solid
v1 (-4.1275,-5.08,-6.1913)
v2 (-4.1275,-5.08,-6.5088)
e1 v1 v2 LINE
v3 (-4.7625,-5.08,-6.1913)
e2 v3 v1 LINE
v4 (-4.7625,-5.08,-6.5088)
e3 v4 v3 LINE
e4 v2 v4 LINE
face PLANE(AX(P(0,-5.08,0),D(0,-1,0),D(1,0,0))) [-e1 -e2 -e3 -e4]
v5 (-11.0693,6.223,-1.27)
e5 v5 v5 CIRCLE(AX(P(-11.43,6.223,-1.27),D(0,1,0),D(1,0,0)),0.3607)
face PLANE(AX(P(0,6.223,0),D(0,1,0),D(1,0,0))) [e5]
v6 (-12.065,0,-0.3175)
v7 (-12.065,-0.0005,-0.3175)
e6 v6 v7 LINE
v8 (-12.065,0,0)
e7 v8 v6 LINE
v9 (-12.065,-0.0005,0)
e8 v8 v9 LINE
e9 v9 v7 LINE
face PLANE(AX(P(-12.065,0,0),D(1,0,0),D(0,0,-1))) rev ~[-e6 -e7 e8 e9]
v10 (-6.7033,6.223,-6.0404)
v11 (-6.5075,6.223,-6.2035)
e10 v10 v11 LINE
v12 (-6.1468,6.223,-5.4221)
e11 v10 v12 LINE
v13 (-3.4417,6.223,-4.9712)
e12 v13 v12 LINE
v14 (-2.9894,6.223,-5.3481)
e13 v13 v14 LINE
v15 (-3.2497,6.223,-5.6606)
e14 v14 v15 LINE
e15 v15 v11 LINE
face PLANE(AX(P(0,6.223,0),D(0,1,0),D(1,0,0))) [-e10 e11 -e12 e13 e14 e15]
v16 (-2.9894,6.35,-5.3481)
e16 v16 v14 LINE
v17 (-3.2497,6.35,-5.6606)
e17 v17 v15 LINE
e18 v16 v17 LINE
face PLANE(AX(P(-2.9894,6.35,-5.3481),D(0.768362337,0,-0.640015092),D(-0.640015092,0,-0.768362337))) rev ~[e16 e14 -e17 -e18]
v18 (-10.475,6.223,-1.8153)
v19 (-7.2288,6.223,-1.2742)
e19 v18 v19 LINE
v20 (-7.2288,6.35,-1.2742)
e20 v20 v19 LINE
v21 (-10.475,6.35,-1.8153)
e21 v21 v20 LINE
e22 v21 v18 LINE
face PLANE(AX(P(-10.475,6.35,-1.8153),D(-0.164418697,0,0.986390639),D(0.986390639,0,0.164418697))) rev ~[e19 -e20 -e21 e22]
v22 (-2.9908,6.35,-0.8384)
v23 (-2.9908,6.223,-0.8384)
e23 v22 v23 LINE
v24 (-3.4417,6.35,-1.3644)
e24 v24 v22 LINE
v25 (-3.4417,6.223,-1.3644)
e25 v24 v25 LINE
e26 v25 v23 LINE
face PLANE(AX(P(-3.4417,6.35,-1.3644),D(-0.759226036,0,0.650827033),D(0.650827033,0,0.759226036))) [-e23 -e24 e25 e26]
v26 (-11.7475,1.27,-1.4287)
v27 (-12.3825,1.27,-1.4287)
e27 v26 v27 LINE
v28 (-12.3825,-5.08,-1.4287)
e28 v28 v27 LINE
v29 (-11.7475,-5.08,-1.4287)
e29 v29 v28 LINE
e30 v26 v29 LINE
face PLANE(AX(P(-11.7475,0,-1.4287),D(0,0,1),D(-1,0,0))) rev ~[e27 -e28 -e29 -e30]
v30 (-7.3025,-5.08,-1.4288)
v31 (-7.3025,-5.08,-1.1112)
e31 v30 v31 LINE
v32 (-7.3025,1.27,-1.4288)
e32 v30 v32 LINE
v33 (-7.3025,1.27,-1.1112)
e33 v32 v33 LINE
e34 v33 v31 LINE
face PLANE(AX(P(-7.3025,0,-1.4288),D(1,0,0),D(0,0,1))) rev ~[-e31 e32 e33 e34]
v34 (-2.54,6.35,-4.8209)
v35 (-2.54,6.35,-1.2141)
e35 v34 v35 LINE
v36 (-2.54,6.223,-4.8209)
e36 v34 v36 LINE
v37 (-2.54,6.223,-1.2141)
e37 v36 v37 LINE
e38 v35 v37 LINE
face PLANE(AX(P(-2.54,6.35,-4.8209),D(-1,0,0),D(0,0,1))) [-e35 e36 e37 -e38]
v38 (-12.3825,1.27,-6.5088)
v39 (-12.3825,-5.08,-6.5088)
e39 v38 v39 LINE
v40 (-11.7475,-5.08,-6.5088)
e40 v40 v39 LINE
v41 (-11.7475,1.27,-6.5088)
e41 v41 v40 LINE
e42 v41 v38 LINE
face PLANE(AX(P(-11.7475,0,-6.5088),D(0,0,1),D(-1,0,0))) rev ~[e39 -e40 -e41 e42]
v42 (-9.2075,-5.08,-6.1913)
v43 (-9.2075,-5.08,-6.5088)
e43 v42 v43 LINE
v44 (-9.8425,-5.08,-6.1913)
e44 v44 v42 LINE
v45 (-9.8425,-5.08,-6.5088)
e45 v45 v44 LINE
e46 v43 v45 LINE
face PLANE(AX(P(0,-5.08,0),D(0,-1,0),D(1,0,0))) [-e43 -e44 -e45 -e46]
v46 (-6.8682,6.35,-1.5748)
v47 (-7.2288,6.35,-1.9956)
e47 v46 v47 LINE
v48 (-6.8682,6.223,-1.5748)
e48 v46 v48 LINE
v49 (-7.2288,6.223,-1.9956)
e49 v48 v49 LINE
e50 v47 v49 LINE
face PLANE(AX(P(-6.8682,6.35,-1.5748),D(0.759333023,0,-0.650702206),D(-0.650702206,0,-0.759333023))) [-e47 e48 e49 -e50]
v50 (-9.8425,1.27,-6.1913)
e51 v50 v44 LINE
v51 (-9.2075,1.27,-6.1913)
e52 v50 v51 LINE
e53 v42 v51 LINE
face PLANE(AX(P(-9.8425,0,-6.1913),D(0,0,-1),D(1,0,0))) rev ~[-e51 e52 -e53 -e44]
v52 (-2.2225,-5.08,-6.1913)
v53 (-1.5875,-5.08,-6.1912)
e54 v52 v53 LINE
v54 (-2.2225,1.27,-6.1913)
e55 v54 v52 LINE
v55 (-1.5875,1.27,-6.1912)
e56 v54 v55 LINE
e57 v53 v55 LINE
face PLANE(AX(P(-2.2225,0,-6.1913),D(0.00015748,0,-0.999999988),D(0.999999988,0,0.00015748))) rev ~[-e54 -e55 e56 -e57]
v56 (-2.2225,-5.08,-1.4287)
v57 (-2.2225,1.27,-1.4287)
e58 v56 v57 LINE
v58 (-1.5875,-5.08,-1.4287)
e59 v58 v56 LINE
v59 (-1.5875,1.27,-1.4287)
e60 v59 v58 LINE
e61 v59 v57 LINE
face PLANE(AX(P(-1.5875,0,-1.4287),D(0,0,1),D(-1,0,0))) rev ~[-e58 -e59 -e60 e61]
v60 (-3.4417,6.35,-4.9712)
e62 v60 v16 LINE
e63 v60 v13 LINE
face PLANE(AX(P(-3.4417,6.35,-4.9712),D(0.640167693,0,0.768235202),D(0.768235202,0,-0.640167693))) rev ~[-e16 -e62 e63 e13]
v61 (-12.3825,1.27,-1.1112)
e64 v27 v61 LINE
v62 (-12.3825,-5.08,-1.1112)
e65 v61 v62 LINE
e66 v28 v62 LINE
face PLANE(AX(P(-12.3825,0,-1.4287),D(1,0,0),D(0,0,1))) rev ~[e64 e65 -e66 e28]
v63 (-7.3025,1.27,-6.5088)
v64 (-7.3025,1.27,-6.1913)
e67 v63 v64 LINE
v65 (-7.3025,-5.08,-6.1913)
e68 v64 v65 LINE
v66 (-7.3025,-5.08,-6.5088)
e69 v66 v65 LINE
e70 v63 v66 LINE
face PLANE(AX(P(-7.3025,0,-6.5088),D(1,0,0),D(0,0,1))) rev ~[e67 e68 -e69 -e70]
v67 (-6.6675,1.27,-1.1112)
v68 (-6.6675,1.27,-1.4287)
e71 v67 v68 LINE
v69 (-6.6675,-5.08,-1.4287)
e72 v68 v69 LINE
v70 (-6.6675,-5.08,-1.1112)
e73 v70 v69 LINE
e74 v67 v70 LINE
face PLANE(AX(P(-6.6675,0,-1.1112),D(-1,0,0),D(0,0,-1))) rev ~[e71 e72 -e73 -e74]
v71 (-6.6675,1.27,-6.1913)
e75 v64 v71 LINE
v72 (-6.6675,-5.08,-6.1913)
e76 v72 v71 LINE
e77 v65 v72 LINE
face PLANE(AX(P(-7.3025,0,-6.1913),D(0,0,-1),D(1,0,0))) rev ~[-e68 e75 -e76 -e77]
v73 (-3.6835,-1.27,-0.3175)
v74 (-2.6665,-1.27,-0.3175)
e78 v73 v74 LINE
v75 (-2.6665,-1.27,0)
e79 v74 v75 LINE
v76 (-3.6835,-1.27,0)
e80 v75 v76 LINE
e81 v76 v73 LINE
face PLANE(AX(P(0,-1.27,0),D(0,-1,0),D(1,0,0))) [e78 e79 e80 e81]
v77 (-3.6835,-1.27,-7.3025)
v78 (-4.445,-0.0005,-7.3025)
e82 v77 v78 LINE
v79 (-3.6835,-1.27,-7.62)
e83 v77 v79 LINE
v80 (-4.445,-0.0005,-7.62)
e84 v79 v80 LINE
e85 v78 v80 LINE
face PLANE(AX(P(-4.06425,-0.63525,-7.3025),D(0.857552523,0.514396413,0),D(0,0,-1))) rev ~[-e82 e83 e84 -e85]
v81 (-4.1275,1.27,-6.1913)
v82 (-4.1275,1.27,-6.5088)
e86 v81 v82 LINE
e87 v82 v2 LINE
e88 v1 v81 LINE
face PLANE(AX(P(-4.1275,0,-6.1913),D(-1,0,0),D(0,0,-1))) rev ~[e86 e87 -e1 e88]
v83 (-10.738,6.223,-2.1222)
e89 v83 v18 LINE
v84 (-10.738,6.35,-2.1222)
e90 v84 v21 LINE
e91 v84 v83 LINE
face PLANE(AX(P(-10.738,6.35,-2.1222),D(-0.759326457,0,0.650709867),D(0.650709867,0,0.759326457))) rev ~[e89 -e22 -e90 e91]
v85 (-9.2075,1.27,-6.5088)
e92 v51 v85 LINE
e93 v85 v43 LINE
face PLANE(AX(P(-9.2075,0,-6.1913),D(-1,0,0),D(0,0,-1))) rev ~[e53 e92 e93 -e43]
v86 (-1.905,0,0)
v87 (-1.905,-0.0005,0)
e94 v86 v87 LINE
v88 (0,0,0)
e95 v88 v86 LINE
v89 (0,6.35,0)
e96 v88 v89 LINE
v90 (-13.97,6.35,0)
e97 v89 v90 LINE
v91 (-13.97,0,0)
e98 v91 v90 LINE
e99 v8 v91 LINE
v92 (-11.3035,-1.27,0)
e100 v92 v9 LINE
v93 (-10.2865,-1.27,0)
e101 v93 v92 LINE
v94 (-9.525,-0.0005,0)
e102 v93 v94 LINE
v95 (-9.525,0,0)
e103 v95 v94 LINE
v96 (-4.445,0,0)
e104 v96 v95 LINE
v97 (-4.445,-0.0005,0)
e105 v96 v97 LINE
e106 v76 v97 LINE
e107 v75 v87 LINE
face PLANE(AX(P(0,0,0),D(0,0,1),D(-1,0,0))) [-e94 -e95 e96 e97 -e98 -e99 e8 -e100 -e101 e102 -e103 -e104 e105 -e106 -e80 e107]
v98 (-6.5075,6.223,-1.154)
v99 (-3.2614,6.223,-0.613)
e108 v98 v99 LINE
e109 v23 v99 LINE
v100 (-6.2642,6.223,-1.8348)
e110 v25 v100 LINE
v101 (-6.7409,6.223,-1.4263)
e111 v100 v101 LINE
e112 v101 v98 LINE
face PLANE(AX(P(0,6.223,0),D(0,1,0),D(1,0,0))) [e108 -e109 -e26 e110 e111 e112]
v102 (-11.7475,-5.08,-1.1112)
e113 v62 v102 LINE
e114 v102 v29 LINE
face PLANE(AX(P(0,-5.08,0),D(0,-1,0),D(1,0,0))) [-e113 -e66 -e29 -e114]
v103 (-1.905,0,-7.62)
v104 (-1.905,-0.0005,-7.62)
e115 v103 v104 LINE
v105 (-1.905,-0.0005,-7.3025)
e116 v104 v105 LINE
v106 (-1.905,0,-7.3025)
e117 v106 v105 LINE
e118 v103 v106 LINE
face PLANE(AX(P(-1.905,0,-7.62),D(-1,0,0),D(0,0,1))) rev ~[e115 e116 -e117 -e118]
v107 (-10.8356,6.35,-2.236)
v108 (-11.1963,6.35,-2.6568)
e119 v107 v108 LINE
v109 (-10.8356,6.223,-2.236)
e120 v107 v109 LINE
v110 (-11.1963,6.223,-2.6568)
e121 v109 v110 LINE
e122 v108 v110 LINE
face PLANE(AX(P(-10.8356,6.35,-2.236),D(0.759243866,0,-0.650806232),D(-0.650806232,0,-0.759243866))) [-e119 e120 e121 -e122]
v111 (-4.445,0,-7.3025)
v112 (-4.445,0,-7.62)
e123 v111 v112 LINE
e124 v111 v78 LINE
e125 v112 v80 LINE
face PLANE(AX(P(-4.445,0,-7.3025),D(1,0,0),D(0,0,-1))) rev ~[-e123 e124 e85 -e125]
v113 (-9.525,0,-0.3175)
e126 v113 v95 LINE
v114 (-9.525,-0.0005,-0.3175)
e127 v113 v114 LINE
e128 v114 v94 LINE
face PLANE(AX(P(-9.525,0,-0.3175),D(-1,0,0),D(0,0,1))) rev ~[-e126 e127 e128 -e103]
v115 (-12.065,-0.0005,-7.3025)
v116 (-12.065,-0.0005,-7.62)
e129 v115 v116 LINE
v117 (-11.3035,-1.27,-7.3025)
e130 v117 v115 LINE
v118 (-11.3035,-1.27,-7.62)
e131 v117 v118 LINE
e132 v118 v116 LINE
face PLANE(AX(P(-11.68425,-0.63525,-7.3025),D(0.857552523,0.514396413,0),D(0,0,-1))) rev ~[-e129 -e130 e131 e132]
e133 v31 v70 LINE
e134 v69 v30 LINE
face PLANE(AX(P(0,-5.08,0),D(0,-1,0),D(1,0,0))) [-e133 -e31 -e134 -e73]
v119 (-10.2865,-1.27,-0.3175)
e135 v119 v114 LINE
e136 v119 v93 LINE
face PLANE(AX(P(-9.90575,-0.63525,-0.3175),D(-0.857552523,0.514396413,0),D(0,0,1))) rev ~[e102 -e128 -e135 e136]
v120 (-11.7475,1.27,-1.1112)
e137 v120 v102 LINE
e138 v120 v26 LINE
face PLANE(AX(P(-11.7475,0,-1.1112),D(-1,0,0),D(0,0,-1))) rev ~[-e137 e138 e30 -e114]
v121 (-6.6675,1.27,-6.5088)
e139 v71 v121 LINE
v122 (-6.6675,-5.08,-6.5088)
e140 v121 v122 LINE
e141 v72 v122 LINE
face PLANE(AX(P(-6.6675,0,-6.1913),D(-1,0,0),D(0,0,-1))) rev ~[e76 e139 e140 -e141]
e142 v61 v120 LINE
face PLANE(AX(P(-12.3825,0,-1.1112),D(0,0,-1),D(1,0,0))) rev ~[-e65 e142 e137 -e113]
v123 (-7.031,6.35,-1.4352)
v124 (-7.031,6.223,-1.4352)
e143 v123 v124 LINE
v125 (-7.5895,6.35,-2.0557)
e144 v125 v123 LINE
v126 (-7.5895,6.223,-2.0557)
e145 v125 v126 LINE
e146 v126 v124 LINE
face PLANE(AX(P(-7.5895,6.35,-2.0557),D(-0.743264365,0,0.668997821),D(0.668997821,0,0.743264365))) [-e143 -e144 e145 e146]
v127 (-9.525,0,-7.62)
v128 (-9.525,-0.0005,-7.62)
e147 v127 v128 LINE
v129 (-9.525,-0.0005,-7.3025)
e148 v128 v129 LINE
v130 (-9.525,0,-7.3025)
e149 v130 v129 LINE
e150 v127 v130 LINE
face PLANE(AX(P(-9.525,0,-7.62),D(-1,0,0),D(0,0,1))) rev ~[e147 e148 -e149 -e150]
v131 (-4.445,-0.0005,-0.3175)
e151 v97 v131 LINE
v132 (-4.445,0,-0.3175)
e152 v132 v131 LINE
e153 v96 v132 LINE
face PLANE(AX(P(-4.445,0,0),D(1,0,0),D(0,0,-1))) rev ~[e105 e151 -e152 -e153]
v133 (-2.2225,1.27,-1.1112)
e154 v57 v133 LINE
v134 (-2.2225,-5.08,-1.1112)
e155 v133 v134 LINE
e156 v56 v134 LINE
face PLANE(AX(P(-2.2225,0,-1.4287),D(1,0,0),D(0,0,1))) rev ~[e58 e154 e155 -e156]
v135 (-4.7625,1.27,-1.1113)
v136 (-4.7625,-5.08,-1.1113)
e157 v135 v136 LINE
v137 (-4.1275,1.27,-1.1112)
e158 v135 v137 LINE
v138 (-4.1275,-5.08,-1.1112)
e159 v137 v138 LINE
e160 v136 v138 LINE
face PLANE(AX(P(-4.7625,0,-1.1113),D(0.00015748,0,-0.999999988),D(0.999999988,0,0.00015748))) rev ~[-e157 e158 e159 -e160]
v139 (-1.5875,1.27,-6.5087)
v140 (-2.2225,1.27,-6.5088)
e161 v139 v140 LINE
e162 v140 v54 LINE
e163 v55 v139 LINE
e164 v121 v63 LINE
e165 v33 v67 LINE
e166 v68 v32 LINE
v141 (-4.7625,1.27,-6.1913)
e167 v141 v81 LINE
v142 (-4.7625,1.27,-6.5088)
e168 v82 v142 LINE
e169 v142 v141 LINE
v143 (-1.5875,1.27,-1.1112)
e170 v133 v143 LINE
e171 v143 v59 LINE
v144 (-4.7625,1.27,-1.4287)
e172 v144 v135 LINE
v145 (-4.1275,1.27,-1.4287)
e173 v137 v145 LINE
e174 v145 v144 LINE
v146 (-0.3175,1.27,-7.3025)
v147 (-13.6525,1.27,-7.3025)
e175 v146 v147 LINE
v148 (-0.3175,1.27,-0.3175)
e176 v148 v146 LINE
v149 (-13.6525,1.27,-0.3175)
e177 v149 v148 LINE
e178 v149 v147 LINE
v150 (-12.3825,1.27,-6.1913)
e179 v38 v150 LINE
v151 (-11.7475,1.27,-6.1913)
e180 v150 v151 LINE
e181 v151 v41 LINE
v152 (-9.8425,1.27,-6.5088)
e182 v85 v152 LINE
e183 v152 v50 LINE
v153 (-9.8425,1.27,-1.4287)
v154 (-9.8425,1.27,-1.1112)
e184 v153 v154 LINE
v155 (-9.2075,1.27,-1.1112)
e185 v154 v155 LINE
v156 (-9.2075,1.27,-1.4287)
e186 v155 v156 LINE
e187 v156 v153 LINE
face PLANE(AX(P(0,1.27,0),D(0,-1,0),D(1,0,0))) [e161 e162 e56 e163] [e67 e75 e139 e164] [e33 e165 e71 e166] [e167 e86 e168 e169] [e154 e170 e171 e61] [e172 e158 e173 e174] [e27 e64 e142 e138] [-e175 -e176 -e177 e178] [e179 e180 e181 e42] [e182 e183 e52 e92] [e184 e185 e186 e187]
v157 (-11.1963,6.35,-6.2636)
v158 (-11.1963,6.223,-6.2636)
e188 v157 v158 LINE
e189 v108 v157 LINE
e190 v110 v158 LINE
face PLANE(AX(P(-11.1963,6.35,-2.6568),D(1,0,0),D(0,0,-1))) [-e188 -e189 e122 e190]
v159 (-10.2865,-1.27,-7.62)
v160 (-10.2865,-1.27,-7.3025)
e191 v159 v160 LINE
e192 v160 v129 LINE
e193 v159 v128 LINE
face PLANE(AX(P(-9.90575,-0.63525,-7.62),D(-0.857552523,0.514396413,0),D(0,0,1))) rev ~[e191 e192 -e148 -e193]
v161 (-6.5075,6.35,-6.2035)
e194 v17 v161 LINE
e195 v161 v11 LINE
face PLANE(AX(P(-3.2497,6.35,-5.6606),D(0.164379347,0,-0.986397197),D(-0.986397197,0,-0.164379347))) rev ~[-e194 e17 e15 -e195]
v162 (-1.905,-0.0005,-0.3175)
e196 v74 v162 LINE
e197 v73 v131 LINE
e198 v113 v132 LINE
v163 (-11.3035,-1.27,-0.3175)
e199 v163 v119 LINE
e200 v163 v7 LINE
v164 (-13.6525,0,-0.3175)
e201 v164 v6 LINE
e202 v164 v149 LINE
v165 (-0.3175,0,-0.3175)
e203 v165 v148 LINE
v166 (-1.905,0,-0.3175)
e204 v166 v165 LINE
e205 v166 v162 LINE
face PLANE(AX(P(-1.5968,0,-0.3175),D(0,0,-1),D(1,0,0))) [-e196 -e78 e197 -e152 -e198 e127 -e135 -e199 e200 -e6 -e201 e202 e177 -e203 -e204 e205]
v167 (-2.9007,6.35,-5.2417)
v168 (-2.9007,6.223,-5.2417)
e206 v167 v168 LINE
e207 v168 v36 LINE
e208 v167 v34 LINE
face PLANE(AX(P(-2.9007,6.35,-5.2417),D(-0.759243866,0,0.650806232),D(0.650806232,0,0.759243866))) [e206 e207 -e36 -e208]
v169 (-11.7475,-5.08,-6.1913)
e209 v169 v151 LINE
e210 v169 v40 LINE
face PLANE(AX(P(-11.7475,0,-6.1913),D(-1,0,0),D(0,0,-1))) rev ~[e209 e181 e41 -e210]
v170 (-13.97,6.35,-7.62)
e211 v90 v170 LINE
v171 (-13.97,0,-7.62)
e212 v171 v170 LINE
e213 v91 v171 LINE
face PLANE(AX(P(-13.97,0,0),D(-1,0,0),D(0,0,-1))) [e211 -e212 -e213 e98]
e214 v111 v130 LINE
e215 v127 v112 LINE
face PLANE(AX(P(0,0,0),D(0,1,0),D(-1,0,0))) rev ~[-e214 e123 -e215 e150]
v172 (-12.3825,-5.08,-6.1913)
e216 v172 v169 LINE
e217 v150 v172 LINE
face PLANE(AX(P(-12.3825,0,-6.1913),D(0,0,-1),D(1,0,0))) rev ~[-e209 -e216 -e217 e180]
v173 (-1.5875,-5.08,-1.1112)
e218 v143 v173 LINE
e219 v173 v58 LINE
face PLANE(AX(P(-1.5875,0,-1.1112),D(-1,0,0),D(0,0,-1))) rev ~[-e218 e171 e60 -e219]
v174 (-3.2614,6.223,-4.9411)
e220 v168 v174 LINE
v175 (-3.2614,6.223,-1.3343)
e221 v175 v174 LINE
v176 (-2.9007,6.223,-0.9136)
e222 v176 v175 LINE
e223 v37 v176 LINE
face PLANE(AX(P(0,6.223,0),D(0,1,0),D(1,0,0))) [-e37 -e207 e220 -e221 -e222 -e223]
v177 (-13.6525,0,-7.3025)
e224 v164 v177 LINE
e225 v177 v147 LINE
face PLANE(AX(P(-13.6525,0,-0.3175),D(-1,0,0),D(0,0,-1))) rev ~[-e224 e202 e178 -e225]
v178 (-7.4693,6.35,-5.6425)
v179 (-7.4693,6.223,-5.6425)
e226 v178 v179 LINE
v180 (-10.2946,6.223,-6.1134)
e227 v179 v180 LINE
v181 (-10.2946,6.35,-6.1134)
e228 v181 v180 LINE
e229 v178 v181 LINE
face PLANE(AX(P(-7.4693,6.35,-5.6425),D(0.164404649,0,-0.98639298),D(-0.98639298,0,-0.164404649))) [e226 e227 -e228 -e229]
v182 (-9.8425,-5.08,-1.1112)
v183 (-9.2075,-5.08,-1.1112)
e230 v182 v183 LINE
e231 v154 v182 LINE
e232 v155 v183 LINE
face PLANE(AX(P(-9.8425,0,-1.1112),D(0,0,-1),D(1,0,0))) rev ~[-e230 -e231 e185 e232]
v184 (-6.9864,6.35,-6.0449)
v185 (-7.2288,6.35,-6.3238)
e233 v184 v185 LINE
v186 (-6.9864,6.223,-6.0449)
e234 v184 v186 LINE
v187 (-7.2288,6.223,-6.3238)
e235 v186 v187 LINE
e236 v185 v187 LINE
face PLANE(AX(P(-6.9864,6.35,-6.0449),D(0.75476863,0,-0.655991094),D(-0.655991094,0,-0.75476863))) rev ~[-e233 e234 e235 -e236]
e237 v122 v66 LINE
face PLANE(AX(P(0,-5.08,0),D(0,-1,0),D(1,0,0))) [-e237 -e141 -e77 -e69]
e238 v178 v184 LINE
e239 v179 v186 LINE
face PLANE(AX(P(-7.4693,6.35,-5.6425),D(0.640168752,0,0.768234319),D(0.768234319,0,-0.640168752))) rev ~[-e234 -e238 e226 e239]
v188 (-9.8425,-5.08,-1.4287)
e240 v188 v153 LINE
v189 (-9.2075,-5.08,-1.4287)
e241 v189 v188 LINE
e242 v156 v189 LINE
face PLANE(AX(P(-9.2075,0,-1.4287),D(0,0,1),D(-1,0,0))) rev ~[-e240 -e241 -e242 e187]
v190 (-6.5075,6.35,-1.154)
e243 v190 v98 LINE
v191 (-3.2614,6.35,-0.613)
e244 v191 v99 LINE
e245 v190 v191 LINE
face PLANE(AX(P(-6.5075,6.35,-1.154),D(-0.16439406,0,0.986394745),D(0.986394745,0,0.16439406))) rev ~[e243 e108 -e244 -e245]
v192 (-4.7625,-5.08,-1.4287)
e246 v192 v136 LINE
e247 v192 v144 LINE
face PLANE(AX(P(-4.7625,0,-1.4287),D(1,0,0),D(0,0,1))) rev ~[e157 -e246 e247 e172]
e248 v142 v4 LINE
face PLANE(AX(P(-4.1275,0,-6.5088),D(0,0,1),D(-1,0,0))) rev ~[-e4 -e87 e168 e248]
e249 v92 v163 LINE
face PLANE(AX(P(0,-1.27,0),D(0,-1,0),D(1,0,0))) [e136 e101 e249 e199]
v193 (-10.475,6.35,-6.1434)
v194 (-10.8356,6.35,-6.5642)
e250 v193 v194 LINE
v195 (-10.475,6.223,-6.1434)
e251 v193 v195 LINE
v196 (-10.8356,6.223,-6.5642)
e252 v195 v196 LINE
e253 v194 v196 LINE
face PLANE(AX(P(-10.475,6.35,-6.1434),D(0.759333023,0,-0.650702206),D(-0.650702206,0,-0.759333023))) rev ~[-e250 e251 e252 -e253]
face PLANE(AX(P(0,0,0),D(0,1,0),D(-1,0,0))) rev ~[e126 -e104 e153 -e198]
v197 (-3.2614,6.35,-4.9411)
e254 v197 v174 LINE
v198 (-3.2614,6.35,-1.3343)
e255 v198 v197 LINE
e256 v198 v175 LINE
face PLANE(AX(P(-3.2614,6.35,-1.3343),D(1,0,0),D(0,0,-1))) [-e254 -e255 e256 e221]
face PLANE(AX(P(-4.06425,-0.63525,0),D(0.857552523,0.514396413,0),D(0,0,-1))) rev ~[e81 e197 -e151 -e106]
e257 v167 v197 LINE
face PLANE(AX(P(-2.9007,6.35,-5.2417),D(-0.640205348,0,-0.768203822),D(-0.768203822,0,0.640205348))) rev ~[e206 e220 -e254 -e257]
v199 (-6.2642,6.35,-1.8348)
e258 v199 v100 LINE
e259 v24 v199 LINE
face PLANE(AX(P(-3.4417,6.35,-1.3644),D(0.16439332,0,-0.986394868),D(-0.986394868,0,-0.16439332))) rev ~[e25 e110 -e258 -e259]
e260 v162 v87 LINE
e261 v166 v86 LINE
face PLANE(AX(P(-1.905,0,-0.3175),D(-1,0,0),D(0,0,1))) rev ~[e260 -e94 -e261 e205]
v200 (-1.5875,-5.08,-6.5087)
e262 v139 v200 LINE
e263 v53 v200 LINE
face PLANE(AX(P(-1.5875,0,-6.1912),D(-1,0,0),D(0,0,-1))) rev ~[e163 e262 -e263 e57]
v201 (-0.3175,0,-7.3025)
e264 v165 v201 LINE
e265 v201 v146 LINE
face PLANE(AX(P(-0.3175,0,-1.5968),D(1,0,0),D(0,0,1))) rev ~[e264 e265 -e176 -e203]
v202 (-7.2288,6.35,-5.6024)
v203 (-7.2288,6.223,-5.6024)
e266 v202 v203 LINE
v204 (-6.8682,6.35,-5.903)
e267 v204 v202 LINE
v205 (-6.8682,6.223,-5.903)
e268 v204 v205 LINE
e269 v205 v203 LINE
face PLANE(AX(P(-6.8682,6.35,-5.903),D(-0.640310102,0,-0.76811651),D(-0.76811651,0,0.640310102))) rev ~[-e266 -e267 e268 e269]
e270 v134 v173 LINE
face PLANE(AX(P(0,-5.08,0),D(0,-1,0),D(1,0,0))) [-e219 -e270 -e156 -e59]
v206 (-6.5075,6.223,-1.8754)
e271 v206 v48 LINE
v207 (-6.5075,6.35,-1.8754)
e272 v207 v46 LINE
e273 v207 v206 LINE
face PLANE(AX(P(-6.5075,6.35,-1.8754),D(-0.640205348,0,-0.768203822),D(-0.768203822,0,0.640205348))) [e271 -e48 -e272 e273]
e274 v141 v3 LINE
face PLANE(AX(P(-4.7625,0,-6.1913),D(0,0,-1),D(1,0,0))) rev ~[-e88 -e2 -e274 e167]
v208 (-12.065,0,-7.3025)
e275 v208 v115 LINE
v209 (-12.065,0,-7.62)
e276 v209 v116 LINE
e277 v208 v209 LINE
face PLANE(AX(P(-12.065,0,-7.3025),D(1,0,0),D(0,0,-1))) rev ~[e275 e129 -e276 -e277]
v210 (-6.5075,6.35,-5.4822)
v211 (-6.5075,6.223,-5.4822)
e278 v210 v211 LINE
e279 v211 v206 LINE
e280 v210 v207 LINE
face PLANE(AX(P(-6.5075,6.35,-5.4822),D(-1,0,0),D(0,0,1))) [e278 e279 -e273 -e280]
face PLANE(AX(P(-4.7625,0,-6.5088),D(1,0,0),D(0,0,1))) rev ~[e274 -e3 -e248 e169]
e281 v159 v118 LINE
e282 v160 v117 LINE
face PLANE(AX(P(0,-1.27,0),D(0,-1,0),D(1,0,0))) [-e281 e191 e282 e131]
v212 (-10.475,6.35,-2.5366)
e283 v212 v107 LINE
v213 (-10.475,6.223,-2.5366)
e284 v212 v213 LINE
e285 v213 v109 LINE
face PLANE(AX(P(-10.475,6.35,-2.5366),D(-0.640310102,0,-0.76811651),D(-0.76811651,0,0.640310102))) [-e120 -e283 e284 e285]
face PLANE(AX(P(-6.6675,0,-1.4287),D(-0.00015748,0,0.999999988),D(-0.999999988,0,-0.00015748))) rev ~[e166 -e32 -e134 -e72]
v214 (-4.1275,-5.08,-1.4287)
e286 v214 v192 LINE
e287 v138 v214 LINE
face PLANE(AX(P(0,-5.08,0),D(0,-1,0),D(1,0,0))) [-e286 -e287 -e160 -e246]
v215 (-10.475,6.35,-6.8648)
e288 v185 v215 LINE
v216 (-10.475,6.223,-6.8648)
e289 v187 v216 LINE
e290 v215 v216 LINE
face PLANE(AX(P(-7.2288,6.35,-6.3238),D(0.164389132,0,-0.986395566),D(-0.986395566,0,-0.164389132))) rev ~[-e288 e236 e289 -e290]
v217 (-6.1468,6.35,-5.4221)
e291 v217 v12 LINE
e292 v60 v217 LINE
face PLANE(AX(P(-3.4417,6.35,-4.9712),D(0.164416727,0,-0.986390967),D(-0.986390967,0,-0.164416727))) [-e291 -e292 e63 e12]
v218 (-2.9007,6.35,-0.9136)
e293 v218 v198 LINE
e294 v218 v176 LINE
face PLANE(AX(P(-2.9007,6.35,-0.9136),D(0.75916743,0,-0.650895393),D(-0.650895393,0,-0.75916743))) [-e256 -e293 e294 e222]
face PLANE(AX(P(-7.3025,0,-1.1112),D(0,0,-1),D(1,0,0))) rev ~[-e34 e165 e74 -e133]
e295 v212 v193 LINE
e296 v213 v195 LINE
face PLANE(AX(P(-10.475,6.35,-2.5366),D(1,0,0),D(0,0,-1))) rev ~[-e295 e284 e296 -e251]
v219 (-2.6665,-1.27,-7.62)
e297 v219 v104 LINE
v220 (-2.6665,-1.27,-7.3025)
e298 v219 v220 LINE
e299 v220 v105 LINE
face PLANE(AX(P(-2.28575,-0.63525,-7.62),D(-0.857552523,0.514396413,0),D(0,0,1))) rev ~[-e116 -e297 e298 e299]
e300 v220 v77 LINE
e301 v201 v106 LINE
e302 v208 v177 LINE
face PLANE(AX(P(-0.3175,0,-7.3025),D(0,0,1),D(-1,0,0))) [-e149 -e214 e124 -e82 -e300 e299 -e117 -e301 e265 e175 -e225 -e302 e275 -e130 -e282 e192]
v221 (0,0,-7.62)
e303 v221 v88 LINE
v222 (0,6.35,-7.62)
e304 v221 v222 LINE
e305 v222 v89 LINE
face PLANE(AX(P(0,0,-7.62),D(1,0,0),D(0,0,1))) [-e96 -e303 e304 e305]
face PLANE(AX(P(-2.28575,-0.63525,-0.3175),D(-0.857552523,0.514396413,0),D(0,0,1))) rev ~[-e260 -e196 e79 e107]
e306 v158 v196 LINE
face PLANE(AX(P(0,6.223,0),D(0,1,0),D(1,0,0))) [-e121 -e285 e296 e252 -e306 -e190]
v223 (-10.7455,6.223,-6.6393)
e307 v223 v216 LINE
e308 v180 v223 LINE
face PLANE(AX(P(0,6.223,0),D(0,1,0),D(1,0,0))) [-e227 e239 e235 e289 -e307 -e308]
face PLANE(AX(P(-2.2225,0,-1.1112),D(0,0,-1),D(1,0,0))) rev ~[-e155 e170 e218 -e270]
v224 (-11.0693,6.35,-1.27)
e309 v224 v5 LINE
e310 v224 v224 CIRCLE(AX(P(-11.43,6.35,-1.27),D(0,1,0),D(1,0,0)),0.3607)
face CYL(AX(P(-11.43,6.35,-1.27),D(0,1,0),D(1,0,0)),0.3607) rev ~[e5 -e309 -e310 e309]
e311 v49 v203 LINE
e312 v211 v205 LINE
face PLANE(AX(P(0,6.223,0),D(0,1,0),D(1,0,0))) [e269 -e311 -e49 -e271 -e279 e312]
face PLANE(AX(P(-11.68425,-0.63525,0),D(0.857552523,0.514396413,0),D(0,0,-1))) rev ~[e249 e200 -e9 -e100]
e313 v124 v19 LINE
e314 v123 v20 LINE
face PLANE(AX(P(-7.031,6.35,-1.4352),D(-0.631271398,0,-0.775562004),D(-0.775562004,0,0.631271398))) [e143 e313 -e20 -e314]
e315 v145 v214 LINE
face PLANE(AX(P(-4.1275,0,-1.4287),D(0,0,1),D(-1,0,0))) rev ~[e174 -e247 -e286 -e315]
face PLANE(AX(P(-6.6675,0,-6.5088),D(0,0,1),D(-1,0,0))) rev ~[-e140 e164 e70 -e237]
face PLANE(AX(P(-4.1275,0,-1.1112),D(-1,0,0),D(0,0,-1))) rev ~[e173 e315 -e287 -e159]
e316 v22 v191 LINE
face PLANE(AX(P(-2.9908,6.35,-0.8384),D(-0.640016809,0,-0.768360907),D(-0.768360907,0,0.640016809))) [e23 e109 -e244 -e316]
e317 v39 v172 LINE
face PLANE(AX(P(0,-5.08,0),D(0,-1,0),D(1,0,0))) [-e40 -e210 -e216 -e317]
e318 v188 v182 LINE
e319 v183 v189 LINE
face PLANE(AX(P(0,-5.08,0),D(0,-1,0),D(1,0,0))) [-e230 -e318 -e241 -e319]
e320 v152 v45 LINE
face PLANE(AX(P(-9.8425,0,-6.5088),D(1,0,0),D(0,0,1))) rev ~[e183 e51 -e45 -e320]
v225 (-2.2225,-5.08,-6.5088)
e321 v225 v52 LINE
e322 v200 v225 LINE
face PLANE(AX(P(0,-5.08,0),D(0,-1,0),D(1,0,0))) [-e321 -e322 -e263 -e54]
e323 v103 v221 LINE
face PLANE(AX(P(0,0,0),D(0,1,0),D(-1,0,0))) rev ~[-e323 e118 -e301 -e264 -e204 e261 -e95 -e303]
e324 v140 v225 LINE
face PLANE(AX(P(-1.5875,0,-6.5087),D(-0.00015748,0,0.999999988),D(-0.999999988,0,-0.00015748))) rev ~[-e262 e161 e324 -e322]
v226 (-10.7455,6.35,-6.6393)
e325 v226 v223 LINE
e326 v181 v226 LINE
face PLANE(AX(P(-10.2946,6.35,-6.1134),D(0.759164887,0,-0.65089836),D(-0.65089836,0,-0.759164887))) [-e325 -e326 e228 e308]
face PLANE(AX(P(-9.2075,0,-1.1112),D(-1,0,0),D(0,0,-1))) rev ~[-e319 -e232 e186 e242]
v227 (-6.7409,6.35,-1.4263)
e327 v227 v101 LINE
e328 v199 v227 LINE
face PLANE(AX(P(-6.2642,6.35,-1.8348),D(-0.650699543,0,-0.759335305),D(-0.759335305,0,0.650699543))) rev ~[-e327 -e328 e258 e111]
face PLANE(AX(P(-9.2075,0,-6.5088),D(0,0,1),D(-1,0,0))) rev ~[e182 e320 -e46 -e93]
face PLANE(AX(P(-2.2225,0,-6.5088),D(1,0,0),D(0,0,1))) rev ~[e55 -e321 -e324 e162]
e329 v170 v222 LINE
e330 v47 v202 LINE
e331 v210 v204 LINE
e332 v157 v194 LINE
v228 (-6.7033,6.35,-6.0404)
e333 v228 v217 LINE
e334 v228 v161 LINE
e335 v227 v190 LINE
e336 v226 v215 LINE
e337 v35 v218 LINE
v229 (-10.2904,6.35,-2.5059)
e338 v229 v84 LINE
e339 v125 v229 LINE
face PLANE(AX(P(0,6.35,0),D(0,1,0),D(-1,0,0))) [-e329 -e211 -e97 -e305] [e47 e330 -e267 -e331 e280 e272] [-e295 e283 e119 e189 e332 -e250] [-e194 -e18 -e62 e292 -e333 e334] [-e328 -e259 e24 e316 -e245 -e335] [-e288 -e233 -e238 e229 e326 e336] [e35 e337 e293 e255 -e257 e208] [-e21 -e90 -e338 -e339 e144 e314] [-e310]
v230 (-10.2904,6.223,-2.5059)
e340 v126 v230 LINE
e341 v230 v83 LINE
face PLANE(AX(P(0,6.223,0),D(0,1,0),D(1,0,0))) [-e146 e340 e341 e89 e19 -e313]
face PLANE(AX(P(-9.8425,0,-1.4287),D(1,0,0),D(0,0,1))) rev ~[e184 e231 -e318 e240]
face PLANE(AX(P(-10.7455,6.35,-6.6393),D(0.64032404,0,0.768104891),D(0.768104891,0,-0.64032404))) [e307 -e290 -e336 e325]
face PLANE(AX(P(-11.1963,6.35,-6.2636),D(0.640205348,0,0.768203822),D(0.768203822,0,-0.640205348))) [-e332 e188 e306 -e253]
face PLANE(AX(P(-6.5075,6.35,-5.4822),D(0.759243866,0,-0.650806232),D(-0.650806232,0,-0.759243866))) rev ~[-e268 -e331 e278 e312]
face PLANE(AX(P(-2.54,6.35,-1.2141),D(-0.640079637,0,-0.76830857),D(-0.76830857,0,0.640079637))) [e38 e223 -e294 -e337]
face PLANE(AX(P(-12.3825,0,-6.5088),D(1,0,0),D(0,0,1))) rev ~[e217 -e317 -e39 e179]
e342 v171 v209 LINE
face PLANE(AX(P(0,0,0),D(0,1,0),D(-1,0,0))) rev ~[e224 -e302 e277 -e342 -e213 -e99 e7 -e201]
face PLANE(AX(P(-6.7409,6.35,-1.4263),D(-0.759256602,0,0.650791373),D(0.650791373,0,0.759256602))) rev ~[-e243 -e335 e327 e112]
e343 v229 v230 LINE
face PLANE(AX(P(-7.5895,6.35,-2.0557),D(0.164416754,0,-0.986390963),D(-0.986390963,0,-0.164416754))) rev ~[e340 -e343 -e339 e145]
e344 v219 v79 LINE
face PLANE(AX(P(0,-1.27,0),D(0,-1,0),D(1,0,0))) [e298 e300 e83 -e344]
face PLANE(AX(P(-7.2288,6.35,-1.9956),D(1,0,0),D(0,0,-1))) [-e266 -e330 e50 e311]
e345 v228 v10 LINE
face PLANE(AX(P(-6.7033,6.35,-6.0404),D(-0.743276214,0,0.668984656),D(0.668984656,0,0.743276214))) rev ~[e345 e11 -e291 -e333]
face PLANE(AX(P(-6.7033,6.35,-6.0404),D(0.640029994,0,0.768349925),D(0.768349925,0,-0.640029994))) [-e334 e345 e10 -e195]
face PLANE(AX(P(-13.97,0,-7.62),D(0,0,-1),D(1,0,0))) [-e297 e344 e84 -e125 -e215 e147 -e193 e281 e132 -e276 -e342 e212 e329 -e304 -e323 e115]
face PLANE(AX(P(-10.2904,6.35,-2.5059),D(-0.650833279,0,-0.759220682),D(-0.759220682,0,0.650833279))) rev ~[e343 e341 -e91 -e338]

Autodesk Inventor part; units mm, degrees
ref_plane "YZ Plane" through (0, 0, 0) normal (1, 0, 0) x (0, 1, 0)
ref_plane "XZ Plane" through (0, 0, 0) normal (0, 1, 0) x (-1, 0, 0)
ref_plane "XY Plane" through (0, 0, 0) normal (0, 0, 1) x (1, 0, 0)
sketch "Náčrt1" plane through (0, 0, 0) normal (0, 1, 0) x (-1, 0, 0)
  line L0 (0, 0) -> (13.97, 0)
  line L1 (13.97, 0) -> (13.97, -7.62)
  line L2 (13.97, -7.62) -> (0, -7.62)
  line L3 (0, -7.62) -> (0, 0)
  dimension "d0" = 13.97
  dimension "d1" = 7.62
extrude "Vysunutí1" add sketch "Náčrt1" along normal blind 6.35
sketch "Náčrt3" plane through (0, 0, 0) normal (0, -1, 0) x (1, 0, 0)
  line L0 (-1.5875, -1.4287) -> (-2.2225, -1.4287)
  line L1 (-2.2225, -1.4287) -> (-2.2225, -1.1112)
  line L2 (-2.2225, -1.1112) -> (-1.5875, -1.1112)
  line L3 (-1.5875, -1.1112) -> (-1.5875, -1.4287)
  line L4 (-4.1275, -1.4287) -> (-4.7625, -1.4287)
  line L5 (-4.7625, -1.4287) -> (-4.7625, -1.1113)
  line L6 (-4.7625, -1.1113) -> (-4.1275, -1.1112)
  line L7 (-4.1275, -1.1112) -> (-4.1275, -1.4287)
  line L8 (-6.6675, -1.4287) -> (-7.3025, -1.4288)
  line L9 (-7.3025, -1.4288) -> (-7.3025, -1.1112)
  line L10 (-7.3025, -1.1112) -> (-6.6675, -1.1112)
  line L11 (-6.6675, -1.1112) -> (-6.6675, -1.4287)
  line L12 (-9.2075, -1.4287) -> (-9.8425, -1.4287)
  line L13 (-9.8425, -1.4287) -> (-9.8425, -1.1112)
  line L14 (-9.8425, -1.1112) -> (-9.2075, -1.1112)
  line L15 (-9.2075, -1.1112) -> (-9.2075, -1.4287)
  line L16 (-11.7475, -1.4287) -> (-12.3825, -1.4287)
  line L17 (-12.3825, -1.4287) -> (-12.3825, -1.1112)
  line L18 (-12.3825, -1.1112) -> (-11.7475, -1.1112)
  line L19 (-11.7475, -1.1112) -> (-11.7475, -1.4287)
  line L20 (-12.3825, -6.1913) -> (-11.7475, -6.1913)
  line L21 (-11.7475, -6.1913) -> (-11.7475, -6.5088)
  line L22 (-11.7475, -6.5088) -> (-12.3825, -6.5088)
  line L23 (-12.3825, -6.5088) -> (-12.3825, -6.1913)
  line L24 (-9.8425, -6.1913) -> (-9.2075, -6.1913)
  line L25 (-9.2075, -6.1913) -> (-9.2075, -6.5088)
  line L26 (-9.2075, -6.5088) -> (-9.8425, -6.5088)
  line L27 (-9.8425, -6.5088) -> (-9.8425, -6.1913)
  line L28 (-7.3025, -6.1913) -> (-6.6675, -6.1913)
  line L29 (-6.6675, -6.1913) -> (-6.6675, -6.5088)
  line L30 (-6.6675, -6.5088) -> (-7.3025, -6.5088)
  line L31 (-7.3025, -6.5088) -> (-7.3025, -6.1913)
  line L32 (-4.7625, -6.1913) -> (-4.1275, -6.1913)
  line L33 (-4.1275, -6.1913) -> (-4.1275, -6.5088)
  line L34 (-4.1275, -6.5088) -> (-4.7625, -6.5088)
  line L35 (-4.7625, -6.5088) -> (-4.7625, -6.1913)
  line L36 (-2.2225, -6.1913) -> (-1.5875, -6.1912)
  line L37 (-1.5875, -6.1912) -> (-1.5875, -6.5087)
  line L38 (-1.5875, -6.5087) -> (-2.2225, -6.5088)
  line L39 (-2.2225, -6.5088) -> (-2.2225, -6.1913)
  point P0 (0, 0)
  point P1 (-6.985, -1.27)
  point P2 (-6.985, -6.35)
  point P3 (-4.445, -1.27)
  point P4 (-9.525, -1.27)
  point P5 (-4.445, -6.35)
  point P6 (-9.525, -6.35)
  point P7 (-1.905, -1.27)
  point P8 (-4.445, -1.27)
  point P9 (-6.985, -1.27)
  point P10 (-9.525, -1.27)
  point P11 (-12.065, -1.27)
  point P12 (-12.065, -6.35)
  point P13 (-9.525, -6.35)
  point P14 (-6.985, -6.35)
  point P15 (-4.445, -6.35)
  point P16 (-1.905, -6.35)
extrude "Vysunutí3" add sketch "Náčrt3" along normal blind 5.08
sketch "Náčrt4" plane through (0, 0, 0) normal (0, -1, 0) x (1, 0, 0)
  line L0 (-4.1275, -6.1913) -> (-4.1275, -6.5088) projected
  line L1 (-4.1275, -6.5088) -> (-4.7625, -6.5088) projected
  line L2 (-4.7625, -6.5088) -> (-4.7625, -6.1913) projected
  line L3 (-4.7625, -6.1913) -> (-4.1275, -6.1913) projected
  line L4 (-9.2075, -6.1913) -> (-9.2075, -6.5088) projected
  line L5 (-9.2075, -6.5088) -> (-9.8425, -6.5088) projected
  line L6 (-9.8425, -6.5088) -> (-9.8425, -6.1913) projected
  line L7 (-9.8425, -6.1913) -> (-9.2075, -6.1913) projected
  line L8 (-12.3825, -1.4287) -> (-12.3825, -1.1112) projected
  line L9 (-12.3825, -1.1112) -> (-11.7475, -1.1112) projected
  line L10 (-11.7475, -1.1112) -> (-11.7475, -1.4287) projected
  line L11 (-11.7475, -1.4287) -> (-12.3825, -1.4287) projected
  line L12 (-7.3025, -1.4288) -> (-7.3025, -1.1112) projected
  line L13 (-7.3025, -1.1112) -> (-6.6675, -1.1112) projected
  line L14 (-6.6675, -1.1112) -> (-6.6675, -1.4287) projected
  line L15 (-6.6675, -1.4287) -> (-7.3025, -1.4288) projected
  line L16 (-2.2225, -1.4287) -> (-2.2225, -1.1112) projected
  line L17 (-2.2225, -1.1112) -> (-1.5875, -1.1112) projected
  line L18 (-1.5875, -1.1112) -> (-1.5875, -1.4287) projected
  line L19 (-1.5875, -1.4287) -> (-2.2225, -1.4287) projected
  line L20 (-4.7625, -1.4287) -> (-4.7625, -1.1113) projected
  line L21 (-4.7625, -1.1113) -> (-4.1275, -1.1112) projected
  line L22 (-4.1275, -1.1112) -> (-4.1275, -1.4287) projected
  line L23 (-4.1275, -1.4287) -> (-4.7625, -1.4287) projected
  line L24 (-9.8425, -1.4287) -> (-9.8425, -1.1112) projected
  line L25 (-9.8425, -1.1112) -> (-9.2075, -1.1112) projected
  line L26 (-9.2075, -1.1112) -> (-9.2075, -1.4287) projected
  line L27 (-9.2075, -1.4287) -> (-9.8425, -1.4287) projected
  line L28 (-11.7475, -6.1913) -> (-11.7475, -6.5088) projected
  line L29 (-11.7475, -6.5088) -> (-12.3825, -6.5088) projected
  line L30 (-12.3825, -6.5088) -> (-12.3825, -6.1913) projected
  line L31 (-12.3825, -6.1913) -> (-11.7475, -6.1913) projected
  line L32 (-6.6675, -6.1913) -> (-6.6675, -6.5088) projected
  line L33 (-6.6675, -6.5088) -> (-7.3025, -6.5088) projected
  line L34 (-7.3025, -6.5088) -> (-7.3025, -6.1913) projected
  line L35 (-7.3025, -6.1913) -> (-6.6675, -6.1913) projected
  line L36 (-1.5875, -6.1912) -> (-1.5875, -6.5087) projected
  line L37 (-1.5875, -6.5087) -> (-2.2225, -6.5088) projected
  line L38 (-2.2225, -6.5088) -> (-2.2225, -6.1913) projected
  line L39 (-2.2225, -6.1913) -> (-1.5875, -6.1912) projected
  line L40 (0, 0) -> (-13.97, 0) projected
  line L41 (-1.5968, -0.3175) -> (-13.6525, -0.3175)
  line L42 (-0.3175, -1.5968) -> (-0.3175, -0.3175)
  line L43 (-0.3175, -7.3025) -> (-0.3175, -1.5968)
  line L44 (-13.6525, -0.3175) -> (-13.6525, -7.3025)
  line L45 (-0.3175, -7.3025) -> (-13.6525, -7.3025)
  line L46 (-1.5968, -0.3175) -> (-0.3175, -0.3175)
extrude "Vysunutí4" cut sketch "Náčrt4" against normal blind 1.27
sketch "Náčrt5" plane through (0, 6.35, 0) normal (0, 1, 0) x (1, 0, 0)
  line L0 (-2.54, 4.8209) -> (-2.54, 1.2141)
  line L1 (-11.1963, 2.6568) -> (-11.1963, 6.2636)
  line L2 (-2.9007, 5.2417) -> (-2.54, 4.8209)
  line L3 (-2.9007, 5.2417) -> (-3.2614, 4.9411)
  line L4 (-2.54, 1.2141) -> (-2.9007, 0.9136)
  line L5 (-2.9007, 0.9136) -> (-3.2614, 1.3343)
  line L6 (-6.5075, 1.8754) -> (-6.8682, 1.5748)
  line L7 (-6.8682, 1.5748) -> (-7.2288, 1.9956)
  line L8 (-6.5075, 5.4822) -> (-6.8682, 5.903)
  line L9 (-6.8682, 5.903) -> (-7.2288, 5.6024)
  line L10 (-11.1963, 6.2636) -> (-10.8356, 6.5642)
  line L11 (-10.475, 6.1434) -> (-10.8356, 6.5642)
  line L12 (-3.4417, 4.9712) -> (-2.9894, 5.3481)
  line L13 (-3.4417, 1.3644) -> (-2.9908, 0.8384)
  line L14 (-10.475, 2.5366) -> (-10.8356, 2.236)
  line L15 (-10.8356, 2.236) -> (-11.1963, 2.6568)
  line L16 (-10.2946, 6.1134) -> (-10.7455, 6.6393)
  line L17 (-10.2904, 2.5059) -> (-10.738, 2.1222)
  line L18 (-10.7455, 6.6393) -> (-10.475, 6.8648)
  line L19 (-10.738, 2.1222) -> (-10.475, 1.8153)
  line L20 (-7.031, 1.4352) -> (-7.2288, 1.2742)
  line L21 (-6.7409, 1.4263) -> (-6.5075, 1.154)
  line L22 (-6.9864, 6.0449) -> (-7.2288, 6.3238)
  line L23 (-6.7033, 6.0404) -> (-6.5075, 6.2035)
  line L24 (-2.9908, 0.8384) -> (-3.2614, 0.613)
  line L25 (-2.9894, 5.3481) -> (-3.2497, 5.6606)
  line L26 (-3.2614, 1.3343) -> (-3.2614, 4.9411)
  line L27 (-3.4417, 1.3644) -> (-6.2642, 1.8348)
  line L28 (-7.2288, 1.9956) -> (-7.2288, 5.6024)
  line L29 (-6.2642, 1.8348) -> (-6.7409, 1.4263)
  line L30 (-10.475, 1.8153) -> (-7.2288, 1.2742)
  line L31 (-6.5075, 1.154) -> (-3.2614, 0.613)
  line L32 (-7.5895, 2.0557) -> (-7.031, 1.4352)
  line L33 (-3.4417, 4.9712) -> (-6.1468, 5.4221)
  line L34 (-6.5075, 5.4822) -> (-6.5075, 1.8754)
  line L35 (-3.2497, 5.6606) -> (-6.5075, 6.2035)
  line L36 (-6.7033, 6.0404) -> (-6.1468, 5.4221)
  line L37 (-7.4693, 5.6425) -> (-6.9864, 6.0449)
  line L38 (-7.4693, 5.6425) -> (-10.2946, 6.1134)
  line L39 (-7.2288, 6.3238) -> (-10.475, 6.8648)
  line L40 (-7.5895, 2.0557) -> (-10.2904, 2.5059)
  line L41 (-10.475, 2.5366) -> (-10.475, 6.1434)
  circle A0 centre (-11.43, 1.27) radius 0.3607
extrude "Vysunutí5" cut sketch "Náčrt5" against normal blind 0.127
sketch "Náčrt6" plane through (0, 0, 0) normal (0, -1, 0) x (1, 0, 0)
  line L0 (-13.6525, -0.3175) -> (-0.3175, -0.3175) projected
  line L1 (-0.3175, -7.3025) -> (-13.6525, -7.3025) projected
  line L2 (0, 0) -> (-13.97, 0) projected
  line L3 (-1.905, 0) -> (-4.445, 0)
  line L4 (-4.445, 0) -> (-4.445, -0.3175)
  line L5 (-4.445, -0.3175) -> (-1.905, -0.3175)
  line L6 (-1.905, -0.3175) -> (-1.905, 0)
  line L7 (-9.525, 0) -> (-12.065, 0)
  line L8 (-12.065, 0) -> (-12.065, -0.3175)
  line L9 (-12.065, -0.3175) -> (-9.525, -0.3175)
  line L10 (-9.525, -0.3175) -> (-9.525, 0)
  line L11 (0, -7.62) -> (-13.97, -7.62) projected
  line L12 (-9.525, -7.3025) -> (-12.065, -7.3025)
  line L13 (-12.065, -7.3025) -> (-12.065, -7.62)
  line L14 (-12.065, -7.62) -> (-9.525, -7.62)
  line L15 (-9.525, -7.62) -> (-9.525, -7.3025)
  line L16 (0, -7.62) -> (-13.97, -7.62) projected
  line L17 (-1.905, -7.3025) -> (-4.445, -7.3025)
  line L18 (-4.445, -7.3025) -> (-4.445, -7.62)
  line L19 (-4.445, -7.62) -> (-1.905, -7.62)
  line L20 (-1.905, -7.62) -> (-1.905, -7.3025)
  point P0 (-9.525, -7.62)
  point P1 (-2.54, -7.62)
  point P2 (-8.255, -7.62)
extrude "Vysunutí6" add sketch "Náčrt6" along normal blind 1.27 contours L8 L2 L10 L0 | L4 L2 L6 L0 | L20 L11 L18 L1 | L15 L11 L13 L1
chamfer "Zkosení1" distance 0.762 distance2 1.27 1 edges at (-9.525, -1.27, -0.1587) measured on face at (-11.2183, -1.27, -0.1058)
chamfer "Zkosení2" distance 0.762 distance2 1.27 1 edges at (-4.445, -1.27, -0.1587) measured on face at (-3.5983, -1.27, -0.1058)
chamfer "Zkosení3" distance 0.762 distance2 1.27 1 edges at (-1.905, -1.27, -0.1587) measured on face at (-2.4978, -1.27, -0.2117)
chamfer "Zkosení4" distance 0.762 distance2 1.27 1 edges at (-12.065, -1.27, -0.1587) measured on face at (-11.4722, -1.27, -0.1058)
chamfer "Zkosení5" distance 0.762 distance2 1.27 1 edges at (-9.525, -1.27, -7.4613) measured on face at (-11.2183, -1.27, -7.4083)
chamfer "Zkosení6" distance 0.762 distance2 1.27 1 edges at (-12.065, -1.27, -7.4613) measured on face at (-11.4722, -1.27, -7.4083)
chamfer "Zkosení7" distance 0.762 distance2 1.27 1 edges at (-4.445, -1.27, -7.4613) measured on face at (-3.5983, -1.27, -7.4083)
chamfer "Zkosení8" distance 0.762 distance2 1.27 1 edges at (-1.905, -1.27, -7.4613) measured on face at (-2.4978, -1.27, -7.5142)
properties part number "SA36-11EWA"
